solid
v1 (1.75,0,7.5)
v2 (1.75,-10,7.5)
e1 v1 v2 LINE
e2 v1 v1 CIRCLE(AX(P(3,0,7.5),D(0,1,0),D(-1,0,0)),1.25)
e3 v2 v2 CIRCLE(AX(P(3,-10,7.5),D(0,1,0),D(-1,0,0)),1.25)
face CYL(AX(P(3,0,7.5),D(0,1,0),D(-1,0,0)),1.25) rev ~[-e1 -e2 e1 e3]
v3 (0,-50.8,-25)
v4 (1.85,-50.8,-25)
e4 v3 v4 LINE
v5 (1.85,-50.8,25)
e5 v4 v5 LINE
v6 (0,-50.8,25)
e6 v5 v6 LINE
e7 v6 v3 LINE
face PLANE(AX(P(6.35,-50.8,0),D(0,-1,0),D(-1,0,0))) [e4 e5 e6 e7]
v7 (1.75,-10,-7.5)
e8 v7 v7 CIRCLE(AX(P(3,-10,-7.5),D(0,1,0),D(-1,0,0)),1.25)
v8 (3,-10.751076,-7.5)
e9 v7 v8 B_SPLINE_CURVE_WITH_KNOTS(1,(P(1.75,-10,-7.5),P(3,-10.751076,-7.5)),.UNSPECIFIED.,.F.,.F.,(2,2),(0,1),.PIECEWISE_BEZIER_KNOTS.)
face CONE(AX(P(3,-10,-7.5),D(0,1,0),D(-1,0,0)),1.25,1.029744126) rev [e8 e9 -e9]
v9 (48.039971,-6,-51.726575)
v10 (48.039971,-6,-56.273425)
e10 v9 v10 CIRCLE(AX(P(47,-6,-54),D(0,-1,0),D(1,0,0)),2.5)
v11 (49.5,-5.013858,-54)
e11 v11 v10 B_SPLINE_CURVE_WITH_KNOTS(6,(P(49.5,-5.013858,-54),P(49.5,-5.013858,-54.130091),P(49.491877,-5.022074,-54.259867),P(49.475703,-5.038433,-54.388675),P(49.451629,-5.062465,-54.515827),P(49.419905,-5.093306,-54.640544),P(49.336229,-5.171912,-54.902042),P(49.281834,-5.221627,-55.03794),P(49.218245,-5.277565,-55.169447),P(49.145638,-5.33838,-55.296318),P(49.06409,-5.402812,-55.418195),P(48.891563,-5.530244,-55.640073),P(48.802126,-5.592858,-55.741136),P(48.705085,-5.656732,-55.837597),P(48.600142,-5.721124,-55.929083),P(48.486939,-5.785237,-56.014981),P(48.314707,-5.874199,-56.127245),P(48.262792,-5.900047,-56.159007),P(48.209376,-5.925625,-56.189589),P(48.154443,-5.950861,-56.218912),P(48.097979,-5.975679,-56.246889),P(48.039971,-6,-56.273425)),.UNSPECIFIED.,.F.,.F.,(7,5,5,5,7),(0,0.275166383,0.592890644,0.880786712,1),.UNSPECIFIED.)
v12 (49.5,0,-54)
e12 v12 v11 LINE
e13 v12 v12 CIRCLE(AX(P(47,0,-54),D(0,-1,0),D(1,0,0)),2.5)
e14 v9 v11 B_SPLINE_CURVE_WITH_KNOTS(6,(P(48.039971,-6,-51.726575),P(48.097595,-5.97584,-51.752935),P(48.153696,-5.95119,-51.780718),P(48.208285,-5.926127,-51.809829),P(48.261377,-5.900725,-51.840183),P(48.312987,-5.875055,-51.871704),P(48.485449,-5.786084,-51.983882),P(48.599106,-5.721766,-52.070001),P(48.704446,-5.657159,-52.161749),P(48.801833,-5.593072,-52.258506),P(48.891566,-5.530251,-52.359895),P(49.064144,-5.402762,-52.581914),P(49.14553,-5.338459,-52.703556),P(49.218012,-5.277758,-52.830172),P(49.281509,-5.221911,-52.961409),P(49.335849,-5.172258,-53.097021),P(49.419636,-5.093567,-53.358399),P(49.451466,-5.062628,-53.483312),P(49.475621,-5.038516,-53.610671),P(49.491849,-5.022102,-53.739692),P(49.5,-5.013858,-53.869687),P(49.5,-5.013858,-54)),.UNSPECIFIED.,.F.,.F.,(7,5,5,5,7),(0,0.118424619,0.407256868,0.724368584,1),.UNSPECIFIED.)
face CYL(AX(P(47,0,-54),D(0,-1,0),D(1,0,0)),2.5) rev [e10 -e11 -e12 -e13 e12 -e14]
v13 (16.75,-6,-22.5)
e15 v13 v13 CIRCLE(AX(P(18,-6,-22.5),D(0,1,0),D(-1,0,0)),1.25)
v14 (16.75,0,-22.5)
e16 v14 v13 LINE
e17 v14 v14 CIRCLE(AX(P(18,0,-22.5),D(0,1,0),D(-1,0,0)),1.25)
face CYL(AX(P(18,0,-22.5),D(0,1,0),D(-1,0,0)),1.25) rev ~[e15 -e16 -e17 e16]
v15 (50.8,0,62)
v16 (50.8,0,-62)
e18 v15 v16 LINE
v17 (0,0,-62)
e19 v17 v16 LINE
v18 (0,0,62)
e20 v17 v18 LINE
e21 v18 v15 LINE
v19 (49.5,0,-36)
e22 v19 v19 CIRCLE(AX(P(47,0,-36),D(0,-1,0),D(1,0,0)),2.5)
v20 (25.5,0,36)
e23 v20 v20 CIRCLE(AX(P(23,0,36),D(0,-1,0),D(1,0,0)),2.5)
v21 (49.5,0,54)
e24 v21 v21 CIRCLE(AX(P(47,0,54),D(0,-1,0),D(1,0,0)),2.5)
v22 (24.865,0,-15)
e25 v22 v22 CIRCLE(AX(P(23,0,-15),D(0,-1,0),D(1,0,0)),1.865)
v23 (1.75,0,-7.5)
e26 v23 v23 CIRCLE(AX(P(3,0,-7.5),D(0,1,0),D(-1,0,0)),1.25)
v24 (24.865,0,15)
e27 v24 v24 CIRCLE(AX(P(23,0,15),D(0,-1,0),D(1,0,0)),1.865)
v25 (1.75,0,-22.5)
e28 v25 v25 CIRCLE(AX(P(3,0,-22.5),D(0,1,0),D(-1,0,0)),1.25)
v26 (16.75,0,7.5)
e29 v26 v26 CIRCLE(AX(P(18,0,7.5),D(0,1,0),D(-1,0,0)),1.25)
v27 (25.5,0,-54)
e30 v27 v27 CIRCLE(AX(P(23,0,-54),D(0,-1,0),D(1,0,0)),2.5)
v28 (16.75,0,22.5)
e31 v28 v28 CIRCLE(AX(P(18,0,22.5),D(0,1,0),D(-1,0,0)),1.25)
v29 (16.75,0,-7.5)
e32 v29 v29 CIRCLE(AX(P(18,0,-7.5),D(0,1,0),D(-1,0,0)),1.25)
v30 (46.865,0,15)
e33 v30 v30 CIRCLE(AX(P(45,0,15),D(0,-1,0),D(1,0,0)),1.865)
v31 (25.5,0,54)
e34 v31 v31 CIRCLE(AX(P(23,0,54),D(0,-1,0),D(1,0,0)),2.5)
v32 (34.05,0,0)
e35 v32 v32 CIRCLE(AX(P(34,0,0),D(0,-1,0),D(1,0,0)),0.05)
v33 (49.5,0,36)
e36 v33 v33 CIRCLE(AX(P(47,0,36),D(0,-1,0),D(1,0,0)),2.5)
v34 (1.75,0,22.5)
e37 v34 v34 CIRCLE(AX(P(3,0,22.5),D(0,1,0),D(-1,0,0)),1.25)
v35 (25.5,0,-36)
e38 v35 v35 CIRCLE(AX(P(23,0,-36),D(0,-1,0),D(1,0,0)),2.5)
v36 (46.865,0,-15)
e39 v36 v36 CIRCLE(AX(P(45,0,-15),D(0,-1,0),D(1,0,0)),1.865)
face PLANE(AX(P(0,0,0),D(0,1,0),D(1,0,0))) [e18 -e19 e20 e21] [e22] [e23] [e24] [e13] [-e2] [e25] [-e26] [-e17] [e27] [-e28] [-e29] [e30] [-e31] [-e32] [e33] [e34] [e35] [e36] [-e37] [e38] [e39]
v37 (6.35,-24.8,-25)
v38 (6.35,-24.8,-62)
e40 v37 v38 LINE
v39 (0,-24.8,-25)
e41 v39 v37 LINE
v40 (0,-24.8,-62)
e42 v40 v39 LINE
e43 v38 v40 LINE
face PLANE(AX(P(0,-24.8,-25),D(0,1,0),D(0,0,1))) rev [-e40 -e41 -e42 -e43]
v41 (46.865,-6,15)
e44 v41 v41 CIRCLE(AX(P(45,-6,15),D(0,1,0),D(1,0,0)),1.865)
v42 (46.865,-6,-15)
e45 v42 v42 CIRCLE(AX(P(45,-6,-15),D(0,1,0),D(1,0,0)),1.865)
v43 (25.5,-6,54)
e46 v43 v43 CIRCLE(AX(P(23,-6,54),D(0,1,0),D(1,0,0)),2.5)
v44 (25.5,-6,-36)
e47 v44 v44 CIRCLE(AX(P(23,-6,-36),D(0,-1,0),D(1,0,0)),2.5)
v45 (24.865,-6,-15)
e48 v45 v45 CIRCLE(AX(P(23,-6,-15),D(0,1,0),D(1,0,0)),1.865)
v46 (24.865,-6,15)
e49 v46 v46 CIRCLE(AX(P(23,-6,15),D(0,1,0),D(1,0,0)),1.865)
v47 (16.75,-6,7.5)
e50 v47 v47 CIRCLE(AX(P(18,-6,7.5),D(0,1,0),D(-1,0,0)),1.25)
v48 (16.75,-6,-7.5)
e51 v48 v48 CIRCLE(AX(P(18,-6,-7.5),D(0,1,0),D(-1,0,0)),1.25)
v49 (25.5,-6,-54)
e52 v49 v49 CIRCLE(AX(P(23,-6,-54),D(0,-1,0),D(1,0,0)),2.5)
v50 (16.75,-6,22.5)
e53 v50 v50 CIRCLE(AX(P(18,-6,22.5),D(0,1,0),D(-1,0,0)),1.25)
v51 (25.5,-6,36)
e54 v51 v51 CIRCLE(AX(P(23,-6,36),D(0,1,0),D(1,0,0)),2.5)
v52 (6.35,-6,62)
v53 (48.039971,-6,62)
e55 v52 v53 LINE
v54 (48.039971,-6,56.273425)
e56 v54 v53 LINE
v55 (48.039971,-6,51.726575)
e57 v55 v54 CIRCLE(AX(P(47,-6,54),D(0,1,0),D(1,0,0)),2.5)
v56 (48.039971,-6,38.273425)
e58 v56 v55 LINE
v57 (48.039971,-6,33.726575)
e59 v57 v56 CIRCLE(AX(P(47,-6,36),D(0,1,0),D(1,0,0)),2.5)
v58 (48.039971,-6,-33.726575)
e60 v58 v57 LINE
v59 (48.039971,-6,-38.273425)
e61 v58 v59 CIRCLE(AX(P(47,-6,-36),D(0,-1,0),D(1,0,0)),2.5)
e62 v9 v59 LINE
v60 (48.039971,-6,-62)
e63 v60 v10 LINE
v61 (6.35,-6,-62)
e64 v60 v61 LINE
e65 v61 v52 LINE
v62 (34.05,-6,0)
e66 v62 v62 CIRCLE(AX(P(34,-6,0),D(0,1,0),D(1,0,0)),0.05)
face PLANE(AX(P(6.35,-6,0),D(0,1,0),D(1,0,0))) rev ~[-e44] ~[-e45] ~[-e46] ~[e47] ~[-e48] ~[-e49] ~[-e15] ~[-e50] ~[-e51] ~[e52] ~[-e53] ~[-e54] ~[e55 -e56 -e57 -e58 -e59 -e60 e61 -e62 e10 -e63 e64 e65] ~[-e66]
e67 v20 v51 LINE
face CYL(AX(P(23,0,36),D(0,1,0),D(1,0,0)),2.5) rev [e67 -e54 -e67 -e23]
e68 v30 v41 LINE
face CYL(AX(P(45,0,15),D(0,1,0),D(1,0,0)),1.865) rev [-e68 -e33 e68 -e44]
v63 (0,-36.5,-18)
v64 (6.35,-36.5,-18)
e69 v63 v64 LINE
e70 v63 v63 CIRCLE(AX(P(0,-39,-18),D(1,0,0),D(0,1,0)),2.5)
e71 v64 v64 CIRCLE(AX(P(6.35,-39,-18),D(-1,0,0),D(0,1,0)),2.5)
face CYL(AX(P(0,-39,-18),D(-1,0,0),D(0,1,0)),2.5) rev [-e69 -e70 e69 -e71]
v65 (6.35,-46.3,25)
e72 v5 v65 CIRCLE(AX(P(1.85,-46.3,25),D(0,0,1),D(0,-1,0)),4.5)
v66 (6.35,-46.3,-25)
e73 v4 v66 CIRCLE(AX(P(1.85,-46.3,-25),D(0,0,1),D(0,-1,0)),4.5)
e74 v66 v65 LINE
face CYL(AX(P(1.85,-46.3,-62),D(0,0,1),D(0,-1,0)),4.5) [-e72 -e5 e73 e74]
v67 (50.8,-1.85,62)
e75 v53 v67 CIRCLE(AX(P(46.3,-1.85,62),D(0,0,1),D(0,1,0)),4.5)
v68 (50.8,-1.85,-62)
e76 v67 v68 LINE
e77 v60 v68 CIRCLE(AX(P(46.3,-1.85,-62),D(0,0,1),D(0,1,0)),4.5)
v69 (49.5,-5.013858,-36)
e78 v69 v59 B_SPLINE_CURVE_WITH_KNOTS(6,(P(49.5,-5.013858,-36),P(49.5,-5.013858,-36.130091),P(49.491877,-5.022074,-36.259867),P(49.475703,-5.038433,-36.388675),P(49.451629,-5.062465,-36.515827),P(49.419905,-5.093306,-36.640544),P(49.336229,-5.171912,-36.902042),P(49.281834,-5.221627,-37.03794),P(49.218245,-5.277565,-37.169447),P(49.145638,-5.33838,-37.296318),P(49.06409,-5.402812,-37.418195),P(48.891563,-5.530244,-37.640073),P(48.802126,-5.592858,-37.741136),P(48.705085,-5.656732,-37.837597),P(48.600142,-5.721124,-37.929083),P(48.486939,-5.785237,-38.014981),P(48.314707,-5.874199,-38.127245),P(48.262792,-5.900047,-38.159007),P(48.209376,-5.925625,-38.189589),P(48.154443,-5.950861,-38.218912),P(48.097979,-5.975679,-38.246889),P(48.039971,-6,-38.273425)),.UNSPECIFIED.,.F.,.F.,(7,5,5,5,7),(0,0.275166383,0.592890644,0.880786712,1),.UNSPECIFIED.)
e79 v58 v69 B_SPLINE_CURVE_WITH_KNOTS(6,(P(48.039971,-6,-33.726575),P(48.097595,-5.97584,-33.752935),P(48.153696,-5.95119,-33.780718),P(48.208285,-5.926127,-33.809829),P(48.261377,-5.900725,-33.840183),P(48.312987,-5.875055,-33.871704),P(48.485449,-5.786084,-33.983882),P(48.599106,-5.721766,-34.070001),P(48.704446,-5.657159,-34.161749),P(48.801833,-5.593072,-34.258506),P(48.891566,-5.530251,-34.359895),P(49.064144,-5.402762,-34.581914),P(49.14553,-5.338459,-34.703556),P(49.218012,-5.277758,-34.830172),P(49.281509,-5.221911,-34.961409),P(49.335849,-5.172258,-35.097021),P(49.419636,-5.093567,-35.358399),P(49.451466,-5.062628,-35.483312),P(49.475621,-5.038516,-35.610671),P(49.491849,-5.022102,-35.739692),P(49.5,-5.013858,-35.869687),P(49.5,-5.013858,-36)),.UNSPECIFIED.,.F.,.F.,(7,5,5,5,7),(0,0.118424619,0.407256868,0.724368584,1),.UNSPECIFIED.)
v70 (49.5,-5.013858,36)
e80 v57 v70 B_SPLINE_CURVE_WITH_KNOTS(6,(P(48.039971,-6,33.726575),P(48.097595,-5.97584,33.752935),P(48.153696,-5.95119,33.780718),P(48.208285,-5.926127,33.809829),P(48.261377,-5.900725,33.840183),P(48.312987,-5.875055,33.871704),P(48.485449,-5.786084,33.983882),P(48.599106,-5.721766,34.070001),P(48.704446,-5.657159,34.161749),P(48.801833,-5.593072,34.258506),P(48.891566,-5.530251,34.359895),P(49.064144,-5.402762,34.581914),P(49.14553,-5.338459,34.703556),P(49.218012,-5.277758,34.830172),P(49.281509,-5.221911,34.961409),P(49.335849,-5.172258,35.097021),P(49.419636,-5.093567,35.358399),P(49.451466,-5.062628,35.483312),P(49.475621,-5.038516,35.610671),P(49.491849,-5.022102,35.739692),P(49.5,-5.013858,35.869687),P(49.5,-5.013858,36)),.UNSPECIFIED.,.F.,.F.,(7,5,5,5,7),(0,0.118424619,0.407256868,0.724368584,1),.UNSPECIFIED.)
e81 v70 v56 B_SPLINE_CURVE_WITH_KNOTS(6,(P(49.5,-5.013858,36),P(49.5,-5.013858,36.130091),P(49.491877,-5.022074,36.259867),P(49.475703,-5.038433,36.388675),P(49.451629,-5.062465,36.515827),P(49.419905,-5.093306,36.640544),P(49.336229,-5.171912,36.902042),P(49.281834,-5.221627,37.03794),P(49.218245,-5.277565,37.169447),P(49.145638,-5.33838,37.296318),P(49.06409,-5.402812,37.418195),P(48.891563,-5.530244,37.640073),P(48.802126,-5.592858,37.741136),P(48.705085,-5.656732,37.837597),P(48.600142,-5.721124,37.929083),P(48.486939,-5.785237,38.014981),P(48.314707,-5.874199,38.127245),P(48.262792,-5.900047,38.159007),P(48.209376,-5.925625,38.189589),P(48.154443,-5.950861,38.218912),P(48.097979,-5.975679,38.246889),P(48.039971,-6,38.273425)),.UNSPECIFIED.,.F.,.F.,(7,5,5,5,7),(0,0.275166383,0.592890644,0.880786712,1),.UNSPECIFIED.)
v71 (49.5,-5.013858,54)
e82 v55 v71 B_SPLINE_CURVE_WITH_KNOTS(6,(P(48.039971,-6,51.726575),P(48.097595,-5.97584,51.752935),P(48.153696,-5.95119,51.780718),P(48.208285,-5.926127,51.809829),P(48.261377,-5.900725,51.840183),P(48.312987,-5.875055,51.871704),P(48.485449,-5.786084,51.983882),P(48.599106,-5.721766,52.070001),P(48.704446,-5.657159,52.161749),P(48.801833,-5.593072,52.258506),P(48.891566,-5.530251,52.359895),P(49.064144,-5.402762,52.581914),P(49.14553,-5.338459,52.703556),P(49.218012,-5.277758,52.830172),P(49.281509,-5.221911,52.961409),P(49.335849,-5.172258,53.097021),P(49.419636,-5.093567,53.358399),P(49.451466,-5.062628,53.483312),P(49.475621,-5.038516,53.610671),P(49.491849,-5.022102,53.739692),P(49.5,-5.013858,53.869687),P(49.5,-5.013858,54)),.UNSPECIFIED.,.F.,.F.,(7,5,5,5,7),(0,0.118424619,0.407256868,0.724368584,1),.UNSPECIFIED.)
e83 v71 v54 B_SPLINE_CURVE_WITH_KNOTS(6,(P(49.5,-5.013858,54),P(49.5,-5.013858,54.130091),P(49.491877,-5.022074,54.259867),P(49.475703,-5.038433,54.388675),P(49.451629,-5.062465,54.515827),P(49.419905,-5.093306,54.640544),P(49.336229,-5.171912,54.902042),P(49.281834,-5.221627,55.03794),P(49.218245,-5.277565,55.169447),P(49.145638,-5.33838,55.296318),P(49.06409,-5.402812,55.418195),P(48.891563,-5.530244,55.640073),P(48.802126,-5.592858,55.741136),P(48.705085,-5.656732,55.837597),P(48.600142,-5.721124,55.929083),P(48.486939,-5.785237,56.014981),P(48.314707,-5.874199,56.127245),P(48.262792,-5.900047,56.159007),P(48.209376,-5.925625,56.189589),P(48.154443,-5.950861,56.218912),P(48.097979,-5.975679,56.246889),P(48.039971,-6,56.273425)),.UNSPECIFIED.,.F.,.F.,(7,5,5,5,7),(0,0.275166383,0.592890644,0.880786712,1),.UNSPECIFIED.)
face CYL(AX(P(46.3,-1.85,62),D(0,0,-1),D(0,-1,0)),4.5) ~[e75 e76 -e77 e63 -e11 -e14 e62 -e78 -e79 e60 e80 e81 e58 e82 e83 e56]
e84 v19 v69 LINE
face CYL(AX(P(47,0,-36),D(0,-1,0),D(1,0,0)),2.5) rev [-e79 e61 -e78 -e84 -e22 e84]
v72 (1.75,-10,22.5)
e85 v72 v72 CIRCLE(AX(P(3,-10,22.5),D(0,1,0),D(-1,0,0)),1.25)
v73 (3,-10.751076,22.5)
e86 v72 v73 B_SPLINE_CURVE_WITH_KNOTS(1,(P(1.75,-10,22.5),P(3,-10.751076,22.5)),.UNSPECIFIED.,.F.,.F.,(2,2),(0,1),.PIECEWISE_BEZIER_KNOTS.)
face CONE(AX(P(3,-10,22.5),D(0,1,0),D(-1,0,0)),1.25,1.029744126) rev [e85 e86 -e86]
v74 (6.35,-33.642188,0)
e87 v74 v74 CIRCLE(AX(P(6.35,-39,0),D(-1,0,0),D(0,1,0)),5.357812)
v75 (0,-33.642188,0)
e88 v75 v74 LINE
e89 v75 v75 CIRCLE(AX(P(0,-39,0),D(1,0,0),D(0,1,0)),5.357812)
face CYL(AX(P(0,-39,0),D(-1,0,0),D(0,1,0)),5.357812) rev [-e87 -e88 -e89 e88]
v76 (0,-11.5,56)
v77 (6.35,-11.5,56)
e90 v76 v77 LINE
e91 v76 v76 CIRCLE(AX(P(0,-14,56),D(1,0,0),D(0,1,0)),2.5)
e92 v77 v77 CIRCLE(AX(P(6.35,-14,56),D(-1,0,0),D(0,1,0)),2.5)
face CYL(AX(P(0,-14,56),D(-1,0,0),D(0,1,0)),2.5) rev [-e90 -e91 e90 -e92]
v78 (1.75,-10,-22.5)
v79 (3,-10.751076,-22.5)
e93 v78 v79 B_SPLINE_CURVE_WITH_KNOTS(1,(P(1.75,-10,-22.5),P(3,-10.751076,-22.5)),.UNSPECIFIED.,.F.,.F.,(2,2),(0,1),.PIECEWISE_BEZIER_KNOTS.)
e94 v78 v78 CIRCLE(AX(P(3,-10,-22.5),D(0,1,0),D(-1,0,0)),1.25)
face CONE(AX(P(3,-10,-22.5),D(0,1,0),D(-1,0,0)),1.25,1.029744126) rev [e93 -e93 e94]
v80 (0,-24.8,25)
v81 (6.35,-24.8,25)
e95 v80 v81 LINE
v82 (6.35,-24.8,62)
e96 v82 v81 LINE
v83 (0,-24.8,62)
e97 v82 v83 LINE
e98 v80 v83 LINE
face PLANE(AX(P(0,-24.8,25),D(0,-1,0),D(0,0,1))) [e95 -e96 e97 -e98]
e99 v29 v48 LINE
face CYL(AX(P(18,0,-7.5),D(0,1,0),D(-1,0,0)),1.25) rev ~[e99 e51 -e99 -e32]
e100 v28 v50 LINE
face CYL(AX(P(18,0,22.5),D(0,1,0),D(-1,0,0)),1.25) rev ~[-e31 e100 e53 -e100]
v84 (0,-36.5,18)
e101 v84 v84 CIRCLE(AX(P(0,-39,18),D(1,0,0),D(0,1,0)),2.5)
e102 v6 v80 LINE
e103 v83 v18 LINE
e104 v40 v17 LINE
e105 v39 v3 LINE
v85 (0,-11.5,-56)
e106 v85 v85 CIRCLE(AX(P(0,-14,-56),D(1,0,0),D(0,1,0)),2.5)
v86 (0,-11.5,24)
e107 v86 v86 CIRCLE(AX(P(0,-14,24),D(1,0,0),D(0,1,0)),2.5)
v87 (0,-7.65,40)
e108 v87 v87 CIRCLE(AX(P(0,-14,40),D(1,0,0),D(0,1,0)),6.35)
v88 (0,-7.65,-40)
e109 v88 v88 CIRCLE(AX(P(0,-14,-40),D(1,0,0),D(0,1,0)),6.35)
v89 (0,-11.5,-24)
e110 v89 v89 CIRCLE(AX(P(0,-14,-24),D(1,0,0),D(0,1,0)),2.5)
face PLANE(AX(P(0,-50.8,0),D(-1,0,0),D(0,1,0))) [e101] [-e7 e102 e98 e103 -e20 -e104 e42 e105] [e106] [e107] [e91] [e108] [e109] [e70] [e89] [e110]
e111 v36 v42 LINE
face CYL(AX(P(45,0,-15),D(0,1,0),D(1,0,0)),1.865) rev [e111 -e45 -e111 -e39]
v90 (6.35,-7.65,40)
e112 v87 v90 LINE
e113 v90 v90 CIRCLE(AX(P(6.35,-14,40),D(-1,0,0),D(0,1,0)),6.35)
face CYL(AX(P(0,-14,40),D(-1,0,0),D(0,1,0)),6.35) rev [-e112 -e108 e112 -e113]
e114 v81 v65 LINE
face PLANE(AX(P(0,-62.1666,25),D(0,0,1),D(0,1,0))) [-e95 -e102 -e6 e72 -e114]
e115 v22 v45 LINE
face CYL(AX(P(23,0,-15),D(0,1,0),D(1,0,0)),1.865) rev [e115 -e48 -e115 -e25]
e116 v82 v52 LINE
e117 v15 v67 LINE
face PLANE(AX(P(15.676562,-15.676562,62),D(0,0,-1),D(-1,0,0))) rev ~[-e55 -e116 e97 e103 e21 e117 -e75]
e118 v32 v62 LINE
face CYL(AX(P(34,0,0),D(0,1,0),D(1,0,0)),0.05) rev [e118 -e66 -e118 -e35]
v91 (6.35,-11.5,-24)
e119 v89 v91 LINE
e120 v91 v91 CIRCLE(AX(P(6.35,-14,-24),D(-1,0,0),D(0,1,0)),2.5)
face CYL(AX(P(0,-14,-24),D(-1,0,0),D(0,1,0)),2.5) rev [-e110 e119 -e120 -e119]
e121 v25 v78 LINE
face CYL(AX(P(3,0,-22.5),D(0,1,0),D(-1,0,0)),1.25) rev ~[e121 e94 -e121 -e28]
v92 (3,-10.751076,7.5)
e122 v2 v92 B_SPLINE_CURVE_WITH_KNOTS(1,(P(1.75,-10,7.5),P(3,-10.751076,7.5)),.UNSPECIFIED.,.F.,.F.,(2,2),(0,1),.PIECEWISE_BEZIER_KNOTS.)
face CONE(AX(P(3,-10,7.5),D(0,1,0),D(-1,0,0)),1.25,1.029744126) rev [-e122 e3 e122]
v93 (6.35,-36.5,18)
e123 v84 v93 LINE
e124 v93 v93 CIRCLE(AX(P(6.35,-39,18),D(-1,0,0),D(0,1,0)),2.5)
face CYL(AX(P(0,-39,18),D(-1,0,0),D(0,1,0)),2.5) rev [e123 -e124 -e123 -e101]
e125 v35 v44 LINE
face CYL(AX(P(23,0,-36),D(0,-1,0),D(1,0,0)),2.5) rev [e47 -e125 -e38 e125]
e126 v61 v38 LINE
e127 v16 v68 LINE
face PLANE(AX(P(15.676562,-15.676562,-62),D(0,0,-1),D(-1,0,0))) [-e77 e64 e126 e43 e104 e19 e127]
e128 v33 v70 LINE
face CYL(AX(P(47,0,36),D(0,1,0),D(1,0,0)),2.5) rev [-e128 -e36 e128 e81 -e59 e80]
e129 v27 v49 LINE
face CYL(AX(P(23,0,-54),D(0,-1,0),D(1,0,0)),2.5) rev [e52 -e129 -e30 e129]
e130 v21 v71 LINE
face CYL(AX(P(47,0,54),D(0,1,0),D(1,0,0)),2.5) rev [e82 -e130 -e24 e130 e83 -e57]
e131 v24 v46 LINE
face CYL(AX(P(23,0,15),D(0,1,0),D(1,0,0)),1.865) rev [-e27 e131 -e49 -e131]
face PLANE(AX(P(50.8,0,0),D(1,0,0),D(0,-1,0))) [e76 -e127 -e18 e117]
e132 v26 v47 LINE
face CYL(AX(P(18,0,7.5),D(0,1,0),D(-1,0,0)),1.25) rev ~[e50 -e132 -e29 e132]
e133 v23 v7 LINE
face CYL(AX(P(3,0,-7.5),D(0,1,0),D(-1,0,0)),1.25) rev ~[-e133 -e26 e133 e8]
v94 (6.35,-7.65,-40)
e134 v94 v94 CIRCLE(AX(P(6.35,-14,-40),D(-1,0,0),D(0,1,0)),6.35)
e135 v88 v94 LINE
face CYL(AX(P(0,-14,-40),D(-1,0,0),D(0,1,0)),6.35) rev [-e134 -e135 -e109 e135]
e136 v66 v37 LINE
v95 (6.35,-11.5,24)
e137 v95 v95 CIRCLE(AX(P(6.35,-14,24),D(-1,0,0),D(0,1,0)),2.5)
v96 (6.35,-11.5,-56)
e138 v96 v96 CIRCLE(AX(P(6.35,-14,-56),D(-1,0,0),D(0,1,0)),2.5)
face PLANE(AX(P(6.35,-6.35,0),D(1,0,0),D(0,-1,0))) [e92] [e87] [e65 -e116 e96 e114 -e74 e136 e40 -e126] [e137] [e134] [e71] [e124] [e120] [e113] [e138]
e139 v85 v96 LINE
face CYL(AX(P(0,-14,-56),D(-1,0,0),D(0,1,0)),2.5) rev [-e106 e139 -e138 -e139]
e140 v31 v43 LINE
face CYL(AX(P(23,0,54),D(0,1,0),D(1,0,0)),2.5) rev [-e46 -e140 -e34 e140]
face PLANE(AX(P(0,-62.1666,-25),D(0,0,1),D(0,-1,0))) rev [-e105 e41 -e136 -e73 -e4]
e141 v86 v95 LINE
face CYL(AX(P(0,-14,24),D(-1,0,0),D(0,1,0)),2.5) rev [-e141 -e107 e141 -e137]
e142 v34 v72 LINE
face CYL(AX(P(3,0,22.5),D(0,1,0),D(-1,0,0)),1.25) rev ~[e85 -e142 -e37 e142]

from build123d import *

# Parameters (mm, degrees)
PAD_DEPTH            = 62
PAD001_DEPTH         = 62
FILLET_R             = 4.5
SKETCH001_R          = 6.35
SKETCH001_R_2        = 2.5
POCKET_DEPTH         = 50.801
LINEARPATTERN_COUNT  = 2
LINEARPATTERN_PITCH  = 80
SKETCH002_R          = 5.357812
SKETCH002_R_2        = 2.5
POCKET001_DEPTH      = 50.801
POCKET001_DEPTH_BACK = 0.001
SKETCH003_W          = 60
SKETCH003_H          = 51.1187
POCKET002_DEPTH      = 286.617678
POCKET002_DEPTH_BACK = 337.417678
SKETCH004_R          = 1.865
SKETCH004_R_2        = 0.05
POCKET003_DEPTH      = 0.001
POCKET003_DEPTH_BACK = 50.801
SKETCH005_W          = 60
SKETCH005_H          = 12.25
POCKET004_DEPTH      = 62.001
POCKET004_DEPTH_BACK = 62.001
SKETCH006_W          = 37.3666
SKETCH006_H          = 44.7638
POCKET005_DEPTH      = 286.617678
POCKET005_DEPTH_BACK = 337.417678
SKETCH007_R          = 2.5
POCKET006_DEPTH      = 286.617678
POCKET006_DEPTH_BACK = 337.417678
SKETCH008_R          = 1.25
HOLE_DEPTH           = 10
HOLE_TIPS_R          = 1.25


with BuildPart() as part:
    # Sketch → Pad (new body)
    with BuildSketch(Plane.XY):
        Polygon((0, 0), (50.8, 0), (50.8, -6.35), (6.35, -6.35), (6.35, -50.8), (0, -50.8), align=None)
    extrude(amount=-PAD_DEPTH)

    # Sketch → Pad001 (join)
    with BuildSketch(Plane.XY):
        Polygon((0, 0), (50.8, 0), (50.8, -6.35), (6.35, -6.35), (6.35, -50.8), (0, -50.8), align=None)
    extrude(amount=PAD001_DEPTH)

    # Fillet
    fillet_edges = [part.edges().sort_by_distance(p)[0] for p in [
        (6.35, -50.8, 0),
        (6.35, -6.35, 0),
        (50.8, -6.35, 0),
    ]]
    fillet(fillet_edges, radius=FILLET_R)

    # Sketch001 → Pocket (cut, through all)
    with BuildSketch(Plane.YZ):
        with Locations((-14, -40)):
            Circle(SKETCH001_R)
        with Locations((-14, -24)):
            Circle(SKETCH001_R_2)
        with Locations((-14, -56)):
            Circle(SKETCH001_R_2)
    pocket = extrude(amount=POCKET_DEPTH, mode=Mode.SUBTRACT)

    # LinearPattern: Pocket ×2
    with Locations(*[(0, 0, i * LINEARPATTERN_PITCH) for i in range(1, LINEARPATTERN_COUNT)]):
        add(pocket, mode=Mode.SUBTRACT)

    # Sketch002 → Pocket001 (cut, two sides)
    with BuildSketch(Plane.YZ) as pocket001_sk:
        with Locations((-39, 0)):
            Circle(SKETCH002_R)
        with Locations((-39, 18)):
            Circle(SKETCH002_R_2)
        with Locations((-39, -18)):
            Circle(SKETCH002_R_2)
    extrude(amount=POCKET001_DEPTH, mode=Mode.SUBTRACT)
    extrude(pocket001_sk.sketch, amount=-POCKET001_DEPTH_BACK, mode=Mode.SUBTRACT)

    # Sketch003 → Pocket002 (cut, two sides)
    with BuildSketch(Plane.XZ) as pocket002_sk:
        with Locations((36.35, 225.55935)):
            Rectangle(SKETCH003_W, SKETCH003_H)
    pocket002 = extrude(amount=-POCKET002_DEPTH, mode=Mode.SUBTRACT) + extrude(pocket002_sk.sketch, amount=POCKET002_DEPTH_BACK, mode=Mode.SUBTRACT)

    # Mirrored001: Pocket002 across Sketch003 H_Axis
    add(pocket002.mirror(Plane(origin=(0, 0, 0), x_dir=(0, -1, 0), z_dir=(0, 0, 1))), mode=Mode.SUBTRACT)

    # Sketch004 → Pocket003 (cut, two sides)
    with BuildSketch(Plane.XZ) as pocket003_sk:
        with Locations((45, 15)):
            Circle(SKETCH004_R)
        with Locations((45, -15)):
            Circle(SKETCH004_R)
        with Locations((23, 15)):
            Circle(SKETCH004_R)
        with Locations((23, -15)):
            Circle(SKETCH004_R)
        with Locations((34, 0)):
            Circle(SKETCH004_R_2)
    extrude(amount=-POCKET003_DEPTH, mode=Mode.SUBTRACT)
    extrude(pocket003_sk.sketch, amount=POCKET003_DEPTH_BACK, mode=Mode.SUBTRACT)

    # Sketch005 → Pocket004 (cut, two sides)
    with BuildSketch(Plane.XY) as pocket004_sk:
        with Locations((36.35, -12.125)):
            Rectangle(SKETCH005_W, SKETCH005_H)
    extrude(amount=-POCKET004_DEPTH, mode=Mode.SUBTRACT)
    extrude(pocket004_sk.sketch, amount=POCKET004_DEPTH_BACK, mode=Mode.SUBTRACT)

    # Sketch006 → Pocket005 (cut, two sides)
    with BuildSketch(Plane.YZ) as pocket005_sk:
        with Locations((-43.4833, 47.3819)):
            Rectangle(SKETCH006_W, SKETCH006_H)
    pocket005 = extrude(amount=-POCKET005_DEPTH, mode=Mode.SUBTRACT) + extrude(pocket005_sk.sketch, amount=POCKET005_DEPTH_BACK, mode=Mode.SUBTRACT)

    # Mirrored: Pocket005 across Sketch006 H_Axis
    add(pocket005.mirror(Plane.XY), mode=Mode.SUBTRACT)

    # Sketch007 → Pocket006 (cut, two sides)
    with BuildSketch(Plane.XZ) as pocket006_sk:
        with Locations((23, 54)):
            Circle(SKETCH007_R)
        with Locations((47, 54)):
            Circle(SKETCH007_R)
        with Locations((47, 36)):
            Circle(SKETCH007_R)
        with Locations((23, 36)):
            Circle(SKETCH007_R)
    pocket006 = extrude(amount=-POCKET006_DEPTH, mode=Mode.SUBTRACT) + extrude(pocket006_sk.sketch, amount=POCKET006_DEPTH_BACK, mode=Mode.SUBTRACT)

    # Mirrored002: Pocket006 across Sketch007 H_Axis
    add(pocket006.mirror(Plane(origin=(0, 0, 0), x_dir=(0, -1, 0), z_dir=(0, 0, 1))), mode=Mode.SUBTRACT)

    # Sketch008 (on Face3 of Mirrored002) → Hole (cut)
    with BuildSketch(Plane(origin=(0, 0, 0), x_dir=(-1, 0, 0), z_dir=(0, 1, 0))):
        with Locations((-18, -7.5)):
            Circle(SKETCH008_R)
        with Locations((-3, -7.5)):
            Circle(SKETCH008_R)
        with Locations((-3, -22.5)):
            Circle(SKETCH008_R)
        with Locations((-18, -22.5)):
            Circle(SKETCH008_R)
        with Locations((-3, 7.5)):
            Circle(SKETCH008_R)
        with Locations((-3, 22.5)):
            Circle(SKETCH008_R)
        with Locations((-18, 22.5)):
            Circle(SKETCH008_R)
        with Locations((-18, 7.5)):
            Circle(SKETCH008_R)
    extrude(amount=-HOLE_DEPTH, mode=Mode.SUBTRACT)

    # Hole tips → Hole tip 1 section 0
    with BuildSketch(Plane(origin=(0, -10, 0), x_dir=(-1, 0, 0), z_dir=(0, 1, 0)), mode=Mode.PRIVATE) as hole_tip_1_s0:
        with Locations((-18, -7.5)):
            Circle(HOLE_TIPS_R)
    loft([hole_tip_1_s0.sketch, Vertex(18, -10.751076, -7.5)], mode=Mode.SUBTRACT)

    # Hole tips → Hole tip 2 section 0
    with BuildSketch(Plane(origin=(0, -10, 0), x_dir=(-1, 0, 0), z_dir=(0, 1, 0)), mode=Mode.PRIVATE) as hole_tip_2_s0:
        with Locations((-3, -7.5)):
            Circle(HOLE_TIPS_R)
    loft([hole_tip_2_s0.sketch, Vertex(3, -10.751076, -7.5)], mode=Mode.SUBTRACT)

    # Hole tips → Hole tip 3 section 0
    with BuildSketch(Plane(origin=(0, -10, 0), x_dir=(-1, 0, 0), z_dir=(0, 1, 0)), mode=Mode.PRIVATE) as hole_tip_3_s0:
        with Locations((-3, -22.5)):
            Circle(HOLE_TIPS_R)
    loft([hole_tip_3_s0.sketch, Vertex(3, -10.751076, -22.5)], mode=Mode.SUBTRACT)

    # Hole tips → Hole tip 4 section 0
    with BuildSketch(Plane(origin=(0, -10, 0), x_dir=(-1, 0, 0), z_dir=(0, 1, 0)), mode=Mode.PRIVATE) as hole_tip_4_s0:
        with Locations((-18, -22.5)):
            Circle(HOLE_TIPS_R)
    loft([hole_tip_4_s0.sketch, Vertex(18, -10.751076, -22.5)], mode=Mode.SUBTRACT)

    # Hole tips → Hole tip 5 section 0
    with BuildSketch(Plane(origin=(0, -10, 0), x_dir=(-1, 0, 0), z_dir=(0, 1, 0)), mode=Mode.PRIVATE) as hole_tip_5_s0:
        with Locations((-3, 7.5)):
            Circle(HOLE_TIPS_R)
    loft([hole_tip_5_s0.sketch, Vertex(3, -10.751076, 7.5)], mode=Mode.SUBTRACT)

    # Hole tips → Hole tip 6 section 0
    with BuildSketch(Plane(origin=(0, -10, 0), x_dir=(-1, 0, 0), z_dir=(0, 1, 0)), mode=Mode.PRIVATE) as hole_tip_6_s0:
        with Locations((-3, 22.5)):
            Circle(HOLE_TIPS_R)
    loft([hole_tip_6_s0.sketch, Vertex(3, -10.751076, 22.5)], mode=Mode.SUBTRACT)

    # Hole tips → Hole tip 7 section 0
    with BuildSketch(Plane(origin=(0, -10, 0), x_dir=(-1, 0, 0), z_dir=(0, 1, 0)), mode=Mode.PRIVATE) as hole_tip_7_s0:
        with Locations((-18, 22.5)):
            Circle(HOLE_TIPS_R)
    loft([hole_tip_7_s0.sketch, Vertex(18, -10.751076, 22.5)], mode=Mode.SUBTRACT)

    # Hole tips → Hole tip 8 section 0
    with BuildSketch(Plane(origin=(0, -10, 0), x_dir=(-1, 0, 0), z_dir=(0, 1, 0)), mode=Mode.PRIVATE) as hole_tip_8_s0:
        with Locations((-18, 7.5)):
            Circle(HOLE_TIPS_R)
    loft([hole_tip_8_s0.sketch, Vertex(18, -10.751076, 7.5)], mode=Mode.SUBTRACT)


solid = part.part
